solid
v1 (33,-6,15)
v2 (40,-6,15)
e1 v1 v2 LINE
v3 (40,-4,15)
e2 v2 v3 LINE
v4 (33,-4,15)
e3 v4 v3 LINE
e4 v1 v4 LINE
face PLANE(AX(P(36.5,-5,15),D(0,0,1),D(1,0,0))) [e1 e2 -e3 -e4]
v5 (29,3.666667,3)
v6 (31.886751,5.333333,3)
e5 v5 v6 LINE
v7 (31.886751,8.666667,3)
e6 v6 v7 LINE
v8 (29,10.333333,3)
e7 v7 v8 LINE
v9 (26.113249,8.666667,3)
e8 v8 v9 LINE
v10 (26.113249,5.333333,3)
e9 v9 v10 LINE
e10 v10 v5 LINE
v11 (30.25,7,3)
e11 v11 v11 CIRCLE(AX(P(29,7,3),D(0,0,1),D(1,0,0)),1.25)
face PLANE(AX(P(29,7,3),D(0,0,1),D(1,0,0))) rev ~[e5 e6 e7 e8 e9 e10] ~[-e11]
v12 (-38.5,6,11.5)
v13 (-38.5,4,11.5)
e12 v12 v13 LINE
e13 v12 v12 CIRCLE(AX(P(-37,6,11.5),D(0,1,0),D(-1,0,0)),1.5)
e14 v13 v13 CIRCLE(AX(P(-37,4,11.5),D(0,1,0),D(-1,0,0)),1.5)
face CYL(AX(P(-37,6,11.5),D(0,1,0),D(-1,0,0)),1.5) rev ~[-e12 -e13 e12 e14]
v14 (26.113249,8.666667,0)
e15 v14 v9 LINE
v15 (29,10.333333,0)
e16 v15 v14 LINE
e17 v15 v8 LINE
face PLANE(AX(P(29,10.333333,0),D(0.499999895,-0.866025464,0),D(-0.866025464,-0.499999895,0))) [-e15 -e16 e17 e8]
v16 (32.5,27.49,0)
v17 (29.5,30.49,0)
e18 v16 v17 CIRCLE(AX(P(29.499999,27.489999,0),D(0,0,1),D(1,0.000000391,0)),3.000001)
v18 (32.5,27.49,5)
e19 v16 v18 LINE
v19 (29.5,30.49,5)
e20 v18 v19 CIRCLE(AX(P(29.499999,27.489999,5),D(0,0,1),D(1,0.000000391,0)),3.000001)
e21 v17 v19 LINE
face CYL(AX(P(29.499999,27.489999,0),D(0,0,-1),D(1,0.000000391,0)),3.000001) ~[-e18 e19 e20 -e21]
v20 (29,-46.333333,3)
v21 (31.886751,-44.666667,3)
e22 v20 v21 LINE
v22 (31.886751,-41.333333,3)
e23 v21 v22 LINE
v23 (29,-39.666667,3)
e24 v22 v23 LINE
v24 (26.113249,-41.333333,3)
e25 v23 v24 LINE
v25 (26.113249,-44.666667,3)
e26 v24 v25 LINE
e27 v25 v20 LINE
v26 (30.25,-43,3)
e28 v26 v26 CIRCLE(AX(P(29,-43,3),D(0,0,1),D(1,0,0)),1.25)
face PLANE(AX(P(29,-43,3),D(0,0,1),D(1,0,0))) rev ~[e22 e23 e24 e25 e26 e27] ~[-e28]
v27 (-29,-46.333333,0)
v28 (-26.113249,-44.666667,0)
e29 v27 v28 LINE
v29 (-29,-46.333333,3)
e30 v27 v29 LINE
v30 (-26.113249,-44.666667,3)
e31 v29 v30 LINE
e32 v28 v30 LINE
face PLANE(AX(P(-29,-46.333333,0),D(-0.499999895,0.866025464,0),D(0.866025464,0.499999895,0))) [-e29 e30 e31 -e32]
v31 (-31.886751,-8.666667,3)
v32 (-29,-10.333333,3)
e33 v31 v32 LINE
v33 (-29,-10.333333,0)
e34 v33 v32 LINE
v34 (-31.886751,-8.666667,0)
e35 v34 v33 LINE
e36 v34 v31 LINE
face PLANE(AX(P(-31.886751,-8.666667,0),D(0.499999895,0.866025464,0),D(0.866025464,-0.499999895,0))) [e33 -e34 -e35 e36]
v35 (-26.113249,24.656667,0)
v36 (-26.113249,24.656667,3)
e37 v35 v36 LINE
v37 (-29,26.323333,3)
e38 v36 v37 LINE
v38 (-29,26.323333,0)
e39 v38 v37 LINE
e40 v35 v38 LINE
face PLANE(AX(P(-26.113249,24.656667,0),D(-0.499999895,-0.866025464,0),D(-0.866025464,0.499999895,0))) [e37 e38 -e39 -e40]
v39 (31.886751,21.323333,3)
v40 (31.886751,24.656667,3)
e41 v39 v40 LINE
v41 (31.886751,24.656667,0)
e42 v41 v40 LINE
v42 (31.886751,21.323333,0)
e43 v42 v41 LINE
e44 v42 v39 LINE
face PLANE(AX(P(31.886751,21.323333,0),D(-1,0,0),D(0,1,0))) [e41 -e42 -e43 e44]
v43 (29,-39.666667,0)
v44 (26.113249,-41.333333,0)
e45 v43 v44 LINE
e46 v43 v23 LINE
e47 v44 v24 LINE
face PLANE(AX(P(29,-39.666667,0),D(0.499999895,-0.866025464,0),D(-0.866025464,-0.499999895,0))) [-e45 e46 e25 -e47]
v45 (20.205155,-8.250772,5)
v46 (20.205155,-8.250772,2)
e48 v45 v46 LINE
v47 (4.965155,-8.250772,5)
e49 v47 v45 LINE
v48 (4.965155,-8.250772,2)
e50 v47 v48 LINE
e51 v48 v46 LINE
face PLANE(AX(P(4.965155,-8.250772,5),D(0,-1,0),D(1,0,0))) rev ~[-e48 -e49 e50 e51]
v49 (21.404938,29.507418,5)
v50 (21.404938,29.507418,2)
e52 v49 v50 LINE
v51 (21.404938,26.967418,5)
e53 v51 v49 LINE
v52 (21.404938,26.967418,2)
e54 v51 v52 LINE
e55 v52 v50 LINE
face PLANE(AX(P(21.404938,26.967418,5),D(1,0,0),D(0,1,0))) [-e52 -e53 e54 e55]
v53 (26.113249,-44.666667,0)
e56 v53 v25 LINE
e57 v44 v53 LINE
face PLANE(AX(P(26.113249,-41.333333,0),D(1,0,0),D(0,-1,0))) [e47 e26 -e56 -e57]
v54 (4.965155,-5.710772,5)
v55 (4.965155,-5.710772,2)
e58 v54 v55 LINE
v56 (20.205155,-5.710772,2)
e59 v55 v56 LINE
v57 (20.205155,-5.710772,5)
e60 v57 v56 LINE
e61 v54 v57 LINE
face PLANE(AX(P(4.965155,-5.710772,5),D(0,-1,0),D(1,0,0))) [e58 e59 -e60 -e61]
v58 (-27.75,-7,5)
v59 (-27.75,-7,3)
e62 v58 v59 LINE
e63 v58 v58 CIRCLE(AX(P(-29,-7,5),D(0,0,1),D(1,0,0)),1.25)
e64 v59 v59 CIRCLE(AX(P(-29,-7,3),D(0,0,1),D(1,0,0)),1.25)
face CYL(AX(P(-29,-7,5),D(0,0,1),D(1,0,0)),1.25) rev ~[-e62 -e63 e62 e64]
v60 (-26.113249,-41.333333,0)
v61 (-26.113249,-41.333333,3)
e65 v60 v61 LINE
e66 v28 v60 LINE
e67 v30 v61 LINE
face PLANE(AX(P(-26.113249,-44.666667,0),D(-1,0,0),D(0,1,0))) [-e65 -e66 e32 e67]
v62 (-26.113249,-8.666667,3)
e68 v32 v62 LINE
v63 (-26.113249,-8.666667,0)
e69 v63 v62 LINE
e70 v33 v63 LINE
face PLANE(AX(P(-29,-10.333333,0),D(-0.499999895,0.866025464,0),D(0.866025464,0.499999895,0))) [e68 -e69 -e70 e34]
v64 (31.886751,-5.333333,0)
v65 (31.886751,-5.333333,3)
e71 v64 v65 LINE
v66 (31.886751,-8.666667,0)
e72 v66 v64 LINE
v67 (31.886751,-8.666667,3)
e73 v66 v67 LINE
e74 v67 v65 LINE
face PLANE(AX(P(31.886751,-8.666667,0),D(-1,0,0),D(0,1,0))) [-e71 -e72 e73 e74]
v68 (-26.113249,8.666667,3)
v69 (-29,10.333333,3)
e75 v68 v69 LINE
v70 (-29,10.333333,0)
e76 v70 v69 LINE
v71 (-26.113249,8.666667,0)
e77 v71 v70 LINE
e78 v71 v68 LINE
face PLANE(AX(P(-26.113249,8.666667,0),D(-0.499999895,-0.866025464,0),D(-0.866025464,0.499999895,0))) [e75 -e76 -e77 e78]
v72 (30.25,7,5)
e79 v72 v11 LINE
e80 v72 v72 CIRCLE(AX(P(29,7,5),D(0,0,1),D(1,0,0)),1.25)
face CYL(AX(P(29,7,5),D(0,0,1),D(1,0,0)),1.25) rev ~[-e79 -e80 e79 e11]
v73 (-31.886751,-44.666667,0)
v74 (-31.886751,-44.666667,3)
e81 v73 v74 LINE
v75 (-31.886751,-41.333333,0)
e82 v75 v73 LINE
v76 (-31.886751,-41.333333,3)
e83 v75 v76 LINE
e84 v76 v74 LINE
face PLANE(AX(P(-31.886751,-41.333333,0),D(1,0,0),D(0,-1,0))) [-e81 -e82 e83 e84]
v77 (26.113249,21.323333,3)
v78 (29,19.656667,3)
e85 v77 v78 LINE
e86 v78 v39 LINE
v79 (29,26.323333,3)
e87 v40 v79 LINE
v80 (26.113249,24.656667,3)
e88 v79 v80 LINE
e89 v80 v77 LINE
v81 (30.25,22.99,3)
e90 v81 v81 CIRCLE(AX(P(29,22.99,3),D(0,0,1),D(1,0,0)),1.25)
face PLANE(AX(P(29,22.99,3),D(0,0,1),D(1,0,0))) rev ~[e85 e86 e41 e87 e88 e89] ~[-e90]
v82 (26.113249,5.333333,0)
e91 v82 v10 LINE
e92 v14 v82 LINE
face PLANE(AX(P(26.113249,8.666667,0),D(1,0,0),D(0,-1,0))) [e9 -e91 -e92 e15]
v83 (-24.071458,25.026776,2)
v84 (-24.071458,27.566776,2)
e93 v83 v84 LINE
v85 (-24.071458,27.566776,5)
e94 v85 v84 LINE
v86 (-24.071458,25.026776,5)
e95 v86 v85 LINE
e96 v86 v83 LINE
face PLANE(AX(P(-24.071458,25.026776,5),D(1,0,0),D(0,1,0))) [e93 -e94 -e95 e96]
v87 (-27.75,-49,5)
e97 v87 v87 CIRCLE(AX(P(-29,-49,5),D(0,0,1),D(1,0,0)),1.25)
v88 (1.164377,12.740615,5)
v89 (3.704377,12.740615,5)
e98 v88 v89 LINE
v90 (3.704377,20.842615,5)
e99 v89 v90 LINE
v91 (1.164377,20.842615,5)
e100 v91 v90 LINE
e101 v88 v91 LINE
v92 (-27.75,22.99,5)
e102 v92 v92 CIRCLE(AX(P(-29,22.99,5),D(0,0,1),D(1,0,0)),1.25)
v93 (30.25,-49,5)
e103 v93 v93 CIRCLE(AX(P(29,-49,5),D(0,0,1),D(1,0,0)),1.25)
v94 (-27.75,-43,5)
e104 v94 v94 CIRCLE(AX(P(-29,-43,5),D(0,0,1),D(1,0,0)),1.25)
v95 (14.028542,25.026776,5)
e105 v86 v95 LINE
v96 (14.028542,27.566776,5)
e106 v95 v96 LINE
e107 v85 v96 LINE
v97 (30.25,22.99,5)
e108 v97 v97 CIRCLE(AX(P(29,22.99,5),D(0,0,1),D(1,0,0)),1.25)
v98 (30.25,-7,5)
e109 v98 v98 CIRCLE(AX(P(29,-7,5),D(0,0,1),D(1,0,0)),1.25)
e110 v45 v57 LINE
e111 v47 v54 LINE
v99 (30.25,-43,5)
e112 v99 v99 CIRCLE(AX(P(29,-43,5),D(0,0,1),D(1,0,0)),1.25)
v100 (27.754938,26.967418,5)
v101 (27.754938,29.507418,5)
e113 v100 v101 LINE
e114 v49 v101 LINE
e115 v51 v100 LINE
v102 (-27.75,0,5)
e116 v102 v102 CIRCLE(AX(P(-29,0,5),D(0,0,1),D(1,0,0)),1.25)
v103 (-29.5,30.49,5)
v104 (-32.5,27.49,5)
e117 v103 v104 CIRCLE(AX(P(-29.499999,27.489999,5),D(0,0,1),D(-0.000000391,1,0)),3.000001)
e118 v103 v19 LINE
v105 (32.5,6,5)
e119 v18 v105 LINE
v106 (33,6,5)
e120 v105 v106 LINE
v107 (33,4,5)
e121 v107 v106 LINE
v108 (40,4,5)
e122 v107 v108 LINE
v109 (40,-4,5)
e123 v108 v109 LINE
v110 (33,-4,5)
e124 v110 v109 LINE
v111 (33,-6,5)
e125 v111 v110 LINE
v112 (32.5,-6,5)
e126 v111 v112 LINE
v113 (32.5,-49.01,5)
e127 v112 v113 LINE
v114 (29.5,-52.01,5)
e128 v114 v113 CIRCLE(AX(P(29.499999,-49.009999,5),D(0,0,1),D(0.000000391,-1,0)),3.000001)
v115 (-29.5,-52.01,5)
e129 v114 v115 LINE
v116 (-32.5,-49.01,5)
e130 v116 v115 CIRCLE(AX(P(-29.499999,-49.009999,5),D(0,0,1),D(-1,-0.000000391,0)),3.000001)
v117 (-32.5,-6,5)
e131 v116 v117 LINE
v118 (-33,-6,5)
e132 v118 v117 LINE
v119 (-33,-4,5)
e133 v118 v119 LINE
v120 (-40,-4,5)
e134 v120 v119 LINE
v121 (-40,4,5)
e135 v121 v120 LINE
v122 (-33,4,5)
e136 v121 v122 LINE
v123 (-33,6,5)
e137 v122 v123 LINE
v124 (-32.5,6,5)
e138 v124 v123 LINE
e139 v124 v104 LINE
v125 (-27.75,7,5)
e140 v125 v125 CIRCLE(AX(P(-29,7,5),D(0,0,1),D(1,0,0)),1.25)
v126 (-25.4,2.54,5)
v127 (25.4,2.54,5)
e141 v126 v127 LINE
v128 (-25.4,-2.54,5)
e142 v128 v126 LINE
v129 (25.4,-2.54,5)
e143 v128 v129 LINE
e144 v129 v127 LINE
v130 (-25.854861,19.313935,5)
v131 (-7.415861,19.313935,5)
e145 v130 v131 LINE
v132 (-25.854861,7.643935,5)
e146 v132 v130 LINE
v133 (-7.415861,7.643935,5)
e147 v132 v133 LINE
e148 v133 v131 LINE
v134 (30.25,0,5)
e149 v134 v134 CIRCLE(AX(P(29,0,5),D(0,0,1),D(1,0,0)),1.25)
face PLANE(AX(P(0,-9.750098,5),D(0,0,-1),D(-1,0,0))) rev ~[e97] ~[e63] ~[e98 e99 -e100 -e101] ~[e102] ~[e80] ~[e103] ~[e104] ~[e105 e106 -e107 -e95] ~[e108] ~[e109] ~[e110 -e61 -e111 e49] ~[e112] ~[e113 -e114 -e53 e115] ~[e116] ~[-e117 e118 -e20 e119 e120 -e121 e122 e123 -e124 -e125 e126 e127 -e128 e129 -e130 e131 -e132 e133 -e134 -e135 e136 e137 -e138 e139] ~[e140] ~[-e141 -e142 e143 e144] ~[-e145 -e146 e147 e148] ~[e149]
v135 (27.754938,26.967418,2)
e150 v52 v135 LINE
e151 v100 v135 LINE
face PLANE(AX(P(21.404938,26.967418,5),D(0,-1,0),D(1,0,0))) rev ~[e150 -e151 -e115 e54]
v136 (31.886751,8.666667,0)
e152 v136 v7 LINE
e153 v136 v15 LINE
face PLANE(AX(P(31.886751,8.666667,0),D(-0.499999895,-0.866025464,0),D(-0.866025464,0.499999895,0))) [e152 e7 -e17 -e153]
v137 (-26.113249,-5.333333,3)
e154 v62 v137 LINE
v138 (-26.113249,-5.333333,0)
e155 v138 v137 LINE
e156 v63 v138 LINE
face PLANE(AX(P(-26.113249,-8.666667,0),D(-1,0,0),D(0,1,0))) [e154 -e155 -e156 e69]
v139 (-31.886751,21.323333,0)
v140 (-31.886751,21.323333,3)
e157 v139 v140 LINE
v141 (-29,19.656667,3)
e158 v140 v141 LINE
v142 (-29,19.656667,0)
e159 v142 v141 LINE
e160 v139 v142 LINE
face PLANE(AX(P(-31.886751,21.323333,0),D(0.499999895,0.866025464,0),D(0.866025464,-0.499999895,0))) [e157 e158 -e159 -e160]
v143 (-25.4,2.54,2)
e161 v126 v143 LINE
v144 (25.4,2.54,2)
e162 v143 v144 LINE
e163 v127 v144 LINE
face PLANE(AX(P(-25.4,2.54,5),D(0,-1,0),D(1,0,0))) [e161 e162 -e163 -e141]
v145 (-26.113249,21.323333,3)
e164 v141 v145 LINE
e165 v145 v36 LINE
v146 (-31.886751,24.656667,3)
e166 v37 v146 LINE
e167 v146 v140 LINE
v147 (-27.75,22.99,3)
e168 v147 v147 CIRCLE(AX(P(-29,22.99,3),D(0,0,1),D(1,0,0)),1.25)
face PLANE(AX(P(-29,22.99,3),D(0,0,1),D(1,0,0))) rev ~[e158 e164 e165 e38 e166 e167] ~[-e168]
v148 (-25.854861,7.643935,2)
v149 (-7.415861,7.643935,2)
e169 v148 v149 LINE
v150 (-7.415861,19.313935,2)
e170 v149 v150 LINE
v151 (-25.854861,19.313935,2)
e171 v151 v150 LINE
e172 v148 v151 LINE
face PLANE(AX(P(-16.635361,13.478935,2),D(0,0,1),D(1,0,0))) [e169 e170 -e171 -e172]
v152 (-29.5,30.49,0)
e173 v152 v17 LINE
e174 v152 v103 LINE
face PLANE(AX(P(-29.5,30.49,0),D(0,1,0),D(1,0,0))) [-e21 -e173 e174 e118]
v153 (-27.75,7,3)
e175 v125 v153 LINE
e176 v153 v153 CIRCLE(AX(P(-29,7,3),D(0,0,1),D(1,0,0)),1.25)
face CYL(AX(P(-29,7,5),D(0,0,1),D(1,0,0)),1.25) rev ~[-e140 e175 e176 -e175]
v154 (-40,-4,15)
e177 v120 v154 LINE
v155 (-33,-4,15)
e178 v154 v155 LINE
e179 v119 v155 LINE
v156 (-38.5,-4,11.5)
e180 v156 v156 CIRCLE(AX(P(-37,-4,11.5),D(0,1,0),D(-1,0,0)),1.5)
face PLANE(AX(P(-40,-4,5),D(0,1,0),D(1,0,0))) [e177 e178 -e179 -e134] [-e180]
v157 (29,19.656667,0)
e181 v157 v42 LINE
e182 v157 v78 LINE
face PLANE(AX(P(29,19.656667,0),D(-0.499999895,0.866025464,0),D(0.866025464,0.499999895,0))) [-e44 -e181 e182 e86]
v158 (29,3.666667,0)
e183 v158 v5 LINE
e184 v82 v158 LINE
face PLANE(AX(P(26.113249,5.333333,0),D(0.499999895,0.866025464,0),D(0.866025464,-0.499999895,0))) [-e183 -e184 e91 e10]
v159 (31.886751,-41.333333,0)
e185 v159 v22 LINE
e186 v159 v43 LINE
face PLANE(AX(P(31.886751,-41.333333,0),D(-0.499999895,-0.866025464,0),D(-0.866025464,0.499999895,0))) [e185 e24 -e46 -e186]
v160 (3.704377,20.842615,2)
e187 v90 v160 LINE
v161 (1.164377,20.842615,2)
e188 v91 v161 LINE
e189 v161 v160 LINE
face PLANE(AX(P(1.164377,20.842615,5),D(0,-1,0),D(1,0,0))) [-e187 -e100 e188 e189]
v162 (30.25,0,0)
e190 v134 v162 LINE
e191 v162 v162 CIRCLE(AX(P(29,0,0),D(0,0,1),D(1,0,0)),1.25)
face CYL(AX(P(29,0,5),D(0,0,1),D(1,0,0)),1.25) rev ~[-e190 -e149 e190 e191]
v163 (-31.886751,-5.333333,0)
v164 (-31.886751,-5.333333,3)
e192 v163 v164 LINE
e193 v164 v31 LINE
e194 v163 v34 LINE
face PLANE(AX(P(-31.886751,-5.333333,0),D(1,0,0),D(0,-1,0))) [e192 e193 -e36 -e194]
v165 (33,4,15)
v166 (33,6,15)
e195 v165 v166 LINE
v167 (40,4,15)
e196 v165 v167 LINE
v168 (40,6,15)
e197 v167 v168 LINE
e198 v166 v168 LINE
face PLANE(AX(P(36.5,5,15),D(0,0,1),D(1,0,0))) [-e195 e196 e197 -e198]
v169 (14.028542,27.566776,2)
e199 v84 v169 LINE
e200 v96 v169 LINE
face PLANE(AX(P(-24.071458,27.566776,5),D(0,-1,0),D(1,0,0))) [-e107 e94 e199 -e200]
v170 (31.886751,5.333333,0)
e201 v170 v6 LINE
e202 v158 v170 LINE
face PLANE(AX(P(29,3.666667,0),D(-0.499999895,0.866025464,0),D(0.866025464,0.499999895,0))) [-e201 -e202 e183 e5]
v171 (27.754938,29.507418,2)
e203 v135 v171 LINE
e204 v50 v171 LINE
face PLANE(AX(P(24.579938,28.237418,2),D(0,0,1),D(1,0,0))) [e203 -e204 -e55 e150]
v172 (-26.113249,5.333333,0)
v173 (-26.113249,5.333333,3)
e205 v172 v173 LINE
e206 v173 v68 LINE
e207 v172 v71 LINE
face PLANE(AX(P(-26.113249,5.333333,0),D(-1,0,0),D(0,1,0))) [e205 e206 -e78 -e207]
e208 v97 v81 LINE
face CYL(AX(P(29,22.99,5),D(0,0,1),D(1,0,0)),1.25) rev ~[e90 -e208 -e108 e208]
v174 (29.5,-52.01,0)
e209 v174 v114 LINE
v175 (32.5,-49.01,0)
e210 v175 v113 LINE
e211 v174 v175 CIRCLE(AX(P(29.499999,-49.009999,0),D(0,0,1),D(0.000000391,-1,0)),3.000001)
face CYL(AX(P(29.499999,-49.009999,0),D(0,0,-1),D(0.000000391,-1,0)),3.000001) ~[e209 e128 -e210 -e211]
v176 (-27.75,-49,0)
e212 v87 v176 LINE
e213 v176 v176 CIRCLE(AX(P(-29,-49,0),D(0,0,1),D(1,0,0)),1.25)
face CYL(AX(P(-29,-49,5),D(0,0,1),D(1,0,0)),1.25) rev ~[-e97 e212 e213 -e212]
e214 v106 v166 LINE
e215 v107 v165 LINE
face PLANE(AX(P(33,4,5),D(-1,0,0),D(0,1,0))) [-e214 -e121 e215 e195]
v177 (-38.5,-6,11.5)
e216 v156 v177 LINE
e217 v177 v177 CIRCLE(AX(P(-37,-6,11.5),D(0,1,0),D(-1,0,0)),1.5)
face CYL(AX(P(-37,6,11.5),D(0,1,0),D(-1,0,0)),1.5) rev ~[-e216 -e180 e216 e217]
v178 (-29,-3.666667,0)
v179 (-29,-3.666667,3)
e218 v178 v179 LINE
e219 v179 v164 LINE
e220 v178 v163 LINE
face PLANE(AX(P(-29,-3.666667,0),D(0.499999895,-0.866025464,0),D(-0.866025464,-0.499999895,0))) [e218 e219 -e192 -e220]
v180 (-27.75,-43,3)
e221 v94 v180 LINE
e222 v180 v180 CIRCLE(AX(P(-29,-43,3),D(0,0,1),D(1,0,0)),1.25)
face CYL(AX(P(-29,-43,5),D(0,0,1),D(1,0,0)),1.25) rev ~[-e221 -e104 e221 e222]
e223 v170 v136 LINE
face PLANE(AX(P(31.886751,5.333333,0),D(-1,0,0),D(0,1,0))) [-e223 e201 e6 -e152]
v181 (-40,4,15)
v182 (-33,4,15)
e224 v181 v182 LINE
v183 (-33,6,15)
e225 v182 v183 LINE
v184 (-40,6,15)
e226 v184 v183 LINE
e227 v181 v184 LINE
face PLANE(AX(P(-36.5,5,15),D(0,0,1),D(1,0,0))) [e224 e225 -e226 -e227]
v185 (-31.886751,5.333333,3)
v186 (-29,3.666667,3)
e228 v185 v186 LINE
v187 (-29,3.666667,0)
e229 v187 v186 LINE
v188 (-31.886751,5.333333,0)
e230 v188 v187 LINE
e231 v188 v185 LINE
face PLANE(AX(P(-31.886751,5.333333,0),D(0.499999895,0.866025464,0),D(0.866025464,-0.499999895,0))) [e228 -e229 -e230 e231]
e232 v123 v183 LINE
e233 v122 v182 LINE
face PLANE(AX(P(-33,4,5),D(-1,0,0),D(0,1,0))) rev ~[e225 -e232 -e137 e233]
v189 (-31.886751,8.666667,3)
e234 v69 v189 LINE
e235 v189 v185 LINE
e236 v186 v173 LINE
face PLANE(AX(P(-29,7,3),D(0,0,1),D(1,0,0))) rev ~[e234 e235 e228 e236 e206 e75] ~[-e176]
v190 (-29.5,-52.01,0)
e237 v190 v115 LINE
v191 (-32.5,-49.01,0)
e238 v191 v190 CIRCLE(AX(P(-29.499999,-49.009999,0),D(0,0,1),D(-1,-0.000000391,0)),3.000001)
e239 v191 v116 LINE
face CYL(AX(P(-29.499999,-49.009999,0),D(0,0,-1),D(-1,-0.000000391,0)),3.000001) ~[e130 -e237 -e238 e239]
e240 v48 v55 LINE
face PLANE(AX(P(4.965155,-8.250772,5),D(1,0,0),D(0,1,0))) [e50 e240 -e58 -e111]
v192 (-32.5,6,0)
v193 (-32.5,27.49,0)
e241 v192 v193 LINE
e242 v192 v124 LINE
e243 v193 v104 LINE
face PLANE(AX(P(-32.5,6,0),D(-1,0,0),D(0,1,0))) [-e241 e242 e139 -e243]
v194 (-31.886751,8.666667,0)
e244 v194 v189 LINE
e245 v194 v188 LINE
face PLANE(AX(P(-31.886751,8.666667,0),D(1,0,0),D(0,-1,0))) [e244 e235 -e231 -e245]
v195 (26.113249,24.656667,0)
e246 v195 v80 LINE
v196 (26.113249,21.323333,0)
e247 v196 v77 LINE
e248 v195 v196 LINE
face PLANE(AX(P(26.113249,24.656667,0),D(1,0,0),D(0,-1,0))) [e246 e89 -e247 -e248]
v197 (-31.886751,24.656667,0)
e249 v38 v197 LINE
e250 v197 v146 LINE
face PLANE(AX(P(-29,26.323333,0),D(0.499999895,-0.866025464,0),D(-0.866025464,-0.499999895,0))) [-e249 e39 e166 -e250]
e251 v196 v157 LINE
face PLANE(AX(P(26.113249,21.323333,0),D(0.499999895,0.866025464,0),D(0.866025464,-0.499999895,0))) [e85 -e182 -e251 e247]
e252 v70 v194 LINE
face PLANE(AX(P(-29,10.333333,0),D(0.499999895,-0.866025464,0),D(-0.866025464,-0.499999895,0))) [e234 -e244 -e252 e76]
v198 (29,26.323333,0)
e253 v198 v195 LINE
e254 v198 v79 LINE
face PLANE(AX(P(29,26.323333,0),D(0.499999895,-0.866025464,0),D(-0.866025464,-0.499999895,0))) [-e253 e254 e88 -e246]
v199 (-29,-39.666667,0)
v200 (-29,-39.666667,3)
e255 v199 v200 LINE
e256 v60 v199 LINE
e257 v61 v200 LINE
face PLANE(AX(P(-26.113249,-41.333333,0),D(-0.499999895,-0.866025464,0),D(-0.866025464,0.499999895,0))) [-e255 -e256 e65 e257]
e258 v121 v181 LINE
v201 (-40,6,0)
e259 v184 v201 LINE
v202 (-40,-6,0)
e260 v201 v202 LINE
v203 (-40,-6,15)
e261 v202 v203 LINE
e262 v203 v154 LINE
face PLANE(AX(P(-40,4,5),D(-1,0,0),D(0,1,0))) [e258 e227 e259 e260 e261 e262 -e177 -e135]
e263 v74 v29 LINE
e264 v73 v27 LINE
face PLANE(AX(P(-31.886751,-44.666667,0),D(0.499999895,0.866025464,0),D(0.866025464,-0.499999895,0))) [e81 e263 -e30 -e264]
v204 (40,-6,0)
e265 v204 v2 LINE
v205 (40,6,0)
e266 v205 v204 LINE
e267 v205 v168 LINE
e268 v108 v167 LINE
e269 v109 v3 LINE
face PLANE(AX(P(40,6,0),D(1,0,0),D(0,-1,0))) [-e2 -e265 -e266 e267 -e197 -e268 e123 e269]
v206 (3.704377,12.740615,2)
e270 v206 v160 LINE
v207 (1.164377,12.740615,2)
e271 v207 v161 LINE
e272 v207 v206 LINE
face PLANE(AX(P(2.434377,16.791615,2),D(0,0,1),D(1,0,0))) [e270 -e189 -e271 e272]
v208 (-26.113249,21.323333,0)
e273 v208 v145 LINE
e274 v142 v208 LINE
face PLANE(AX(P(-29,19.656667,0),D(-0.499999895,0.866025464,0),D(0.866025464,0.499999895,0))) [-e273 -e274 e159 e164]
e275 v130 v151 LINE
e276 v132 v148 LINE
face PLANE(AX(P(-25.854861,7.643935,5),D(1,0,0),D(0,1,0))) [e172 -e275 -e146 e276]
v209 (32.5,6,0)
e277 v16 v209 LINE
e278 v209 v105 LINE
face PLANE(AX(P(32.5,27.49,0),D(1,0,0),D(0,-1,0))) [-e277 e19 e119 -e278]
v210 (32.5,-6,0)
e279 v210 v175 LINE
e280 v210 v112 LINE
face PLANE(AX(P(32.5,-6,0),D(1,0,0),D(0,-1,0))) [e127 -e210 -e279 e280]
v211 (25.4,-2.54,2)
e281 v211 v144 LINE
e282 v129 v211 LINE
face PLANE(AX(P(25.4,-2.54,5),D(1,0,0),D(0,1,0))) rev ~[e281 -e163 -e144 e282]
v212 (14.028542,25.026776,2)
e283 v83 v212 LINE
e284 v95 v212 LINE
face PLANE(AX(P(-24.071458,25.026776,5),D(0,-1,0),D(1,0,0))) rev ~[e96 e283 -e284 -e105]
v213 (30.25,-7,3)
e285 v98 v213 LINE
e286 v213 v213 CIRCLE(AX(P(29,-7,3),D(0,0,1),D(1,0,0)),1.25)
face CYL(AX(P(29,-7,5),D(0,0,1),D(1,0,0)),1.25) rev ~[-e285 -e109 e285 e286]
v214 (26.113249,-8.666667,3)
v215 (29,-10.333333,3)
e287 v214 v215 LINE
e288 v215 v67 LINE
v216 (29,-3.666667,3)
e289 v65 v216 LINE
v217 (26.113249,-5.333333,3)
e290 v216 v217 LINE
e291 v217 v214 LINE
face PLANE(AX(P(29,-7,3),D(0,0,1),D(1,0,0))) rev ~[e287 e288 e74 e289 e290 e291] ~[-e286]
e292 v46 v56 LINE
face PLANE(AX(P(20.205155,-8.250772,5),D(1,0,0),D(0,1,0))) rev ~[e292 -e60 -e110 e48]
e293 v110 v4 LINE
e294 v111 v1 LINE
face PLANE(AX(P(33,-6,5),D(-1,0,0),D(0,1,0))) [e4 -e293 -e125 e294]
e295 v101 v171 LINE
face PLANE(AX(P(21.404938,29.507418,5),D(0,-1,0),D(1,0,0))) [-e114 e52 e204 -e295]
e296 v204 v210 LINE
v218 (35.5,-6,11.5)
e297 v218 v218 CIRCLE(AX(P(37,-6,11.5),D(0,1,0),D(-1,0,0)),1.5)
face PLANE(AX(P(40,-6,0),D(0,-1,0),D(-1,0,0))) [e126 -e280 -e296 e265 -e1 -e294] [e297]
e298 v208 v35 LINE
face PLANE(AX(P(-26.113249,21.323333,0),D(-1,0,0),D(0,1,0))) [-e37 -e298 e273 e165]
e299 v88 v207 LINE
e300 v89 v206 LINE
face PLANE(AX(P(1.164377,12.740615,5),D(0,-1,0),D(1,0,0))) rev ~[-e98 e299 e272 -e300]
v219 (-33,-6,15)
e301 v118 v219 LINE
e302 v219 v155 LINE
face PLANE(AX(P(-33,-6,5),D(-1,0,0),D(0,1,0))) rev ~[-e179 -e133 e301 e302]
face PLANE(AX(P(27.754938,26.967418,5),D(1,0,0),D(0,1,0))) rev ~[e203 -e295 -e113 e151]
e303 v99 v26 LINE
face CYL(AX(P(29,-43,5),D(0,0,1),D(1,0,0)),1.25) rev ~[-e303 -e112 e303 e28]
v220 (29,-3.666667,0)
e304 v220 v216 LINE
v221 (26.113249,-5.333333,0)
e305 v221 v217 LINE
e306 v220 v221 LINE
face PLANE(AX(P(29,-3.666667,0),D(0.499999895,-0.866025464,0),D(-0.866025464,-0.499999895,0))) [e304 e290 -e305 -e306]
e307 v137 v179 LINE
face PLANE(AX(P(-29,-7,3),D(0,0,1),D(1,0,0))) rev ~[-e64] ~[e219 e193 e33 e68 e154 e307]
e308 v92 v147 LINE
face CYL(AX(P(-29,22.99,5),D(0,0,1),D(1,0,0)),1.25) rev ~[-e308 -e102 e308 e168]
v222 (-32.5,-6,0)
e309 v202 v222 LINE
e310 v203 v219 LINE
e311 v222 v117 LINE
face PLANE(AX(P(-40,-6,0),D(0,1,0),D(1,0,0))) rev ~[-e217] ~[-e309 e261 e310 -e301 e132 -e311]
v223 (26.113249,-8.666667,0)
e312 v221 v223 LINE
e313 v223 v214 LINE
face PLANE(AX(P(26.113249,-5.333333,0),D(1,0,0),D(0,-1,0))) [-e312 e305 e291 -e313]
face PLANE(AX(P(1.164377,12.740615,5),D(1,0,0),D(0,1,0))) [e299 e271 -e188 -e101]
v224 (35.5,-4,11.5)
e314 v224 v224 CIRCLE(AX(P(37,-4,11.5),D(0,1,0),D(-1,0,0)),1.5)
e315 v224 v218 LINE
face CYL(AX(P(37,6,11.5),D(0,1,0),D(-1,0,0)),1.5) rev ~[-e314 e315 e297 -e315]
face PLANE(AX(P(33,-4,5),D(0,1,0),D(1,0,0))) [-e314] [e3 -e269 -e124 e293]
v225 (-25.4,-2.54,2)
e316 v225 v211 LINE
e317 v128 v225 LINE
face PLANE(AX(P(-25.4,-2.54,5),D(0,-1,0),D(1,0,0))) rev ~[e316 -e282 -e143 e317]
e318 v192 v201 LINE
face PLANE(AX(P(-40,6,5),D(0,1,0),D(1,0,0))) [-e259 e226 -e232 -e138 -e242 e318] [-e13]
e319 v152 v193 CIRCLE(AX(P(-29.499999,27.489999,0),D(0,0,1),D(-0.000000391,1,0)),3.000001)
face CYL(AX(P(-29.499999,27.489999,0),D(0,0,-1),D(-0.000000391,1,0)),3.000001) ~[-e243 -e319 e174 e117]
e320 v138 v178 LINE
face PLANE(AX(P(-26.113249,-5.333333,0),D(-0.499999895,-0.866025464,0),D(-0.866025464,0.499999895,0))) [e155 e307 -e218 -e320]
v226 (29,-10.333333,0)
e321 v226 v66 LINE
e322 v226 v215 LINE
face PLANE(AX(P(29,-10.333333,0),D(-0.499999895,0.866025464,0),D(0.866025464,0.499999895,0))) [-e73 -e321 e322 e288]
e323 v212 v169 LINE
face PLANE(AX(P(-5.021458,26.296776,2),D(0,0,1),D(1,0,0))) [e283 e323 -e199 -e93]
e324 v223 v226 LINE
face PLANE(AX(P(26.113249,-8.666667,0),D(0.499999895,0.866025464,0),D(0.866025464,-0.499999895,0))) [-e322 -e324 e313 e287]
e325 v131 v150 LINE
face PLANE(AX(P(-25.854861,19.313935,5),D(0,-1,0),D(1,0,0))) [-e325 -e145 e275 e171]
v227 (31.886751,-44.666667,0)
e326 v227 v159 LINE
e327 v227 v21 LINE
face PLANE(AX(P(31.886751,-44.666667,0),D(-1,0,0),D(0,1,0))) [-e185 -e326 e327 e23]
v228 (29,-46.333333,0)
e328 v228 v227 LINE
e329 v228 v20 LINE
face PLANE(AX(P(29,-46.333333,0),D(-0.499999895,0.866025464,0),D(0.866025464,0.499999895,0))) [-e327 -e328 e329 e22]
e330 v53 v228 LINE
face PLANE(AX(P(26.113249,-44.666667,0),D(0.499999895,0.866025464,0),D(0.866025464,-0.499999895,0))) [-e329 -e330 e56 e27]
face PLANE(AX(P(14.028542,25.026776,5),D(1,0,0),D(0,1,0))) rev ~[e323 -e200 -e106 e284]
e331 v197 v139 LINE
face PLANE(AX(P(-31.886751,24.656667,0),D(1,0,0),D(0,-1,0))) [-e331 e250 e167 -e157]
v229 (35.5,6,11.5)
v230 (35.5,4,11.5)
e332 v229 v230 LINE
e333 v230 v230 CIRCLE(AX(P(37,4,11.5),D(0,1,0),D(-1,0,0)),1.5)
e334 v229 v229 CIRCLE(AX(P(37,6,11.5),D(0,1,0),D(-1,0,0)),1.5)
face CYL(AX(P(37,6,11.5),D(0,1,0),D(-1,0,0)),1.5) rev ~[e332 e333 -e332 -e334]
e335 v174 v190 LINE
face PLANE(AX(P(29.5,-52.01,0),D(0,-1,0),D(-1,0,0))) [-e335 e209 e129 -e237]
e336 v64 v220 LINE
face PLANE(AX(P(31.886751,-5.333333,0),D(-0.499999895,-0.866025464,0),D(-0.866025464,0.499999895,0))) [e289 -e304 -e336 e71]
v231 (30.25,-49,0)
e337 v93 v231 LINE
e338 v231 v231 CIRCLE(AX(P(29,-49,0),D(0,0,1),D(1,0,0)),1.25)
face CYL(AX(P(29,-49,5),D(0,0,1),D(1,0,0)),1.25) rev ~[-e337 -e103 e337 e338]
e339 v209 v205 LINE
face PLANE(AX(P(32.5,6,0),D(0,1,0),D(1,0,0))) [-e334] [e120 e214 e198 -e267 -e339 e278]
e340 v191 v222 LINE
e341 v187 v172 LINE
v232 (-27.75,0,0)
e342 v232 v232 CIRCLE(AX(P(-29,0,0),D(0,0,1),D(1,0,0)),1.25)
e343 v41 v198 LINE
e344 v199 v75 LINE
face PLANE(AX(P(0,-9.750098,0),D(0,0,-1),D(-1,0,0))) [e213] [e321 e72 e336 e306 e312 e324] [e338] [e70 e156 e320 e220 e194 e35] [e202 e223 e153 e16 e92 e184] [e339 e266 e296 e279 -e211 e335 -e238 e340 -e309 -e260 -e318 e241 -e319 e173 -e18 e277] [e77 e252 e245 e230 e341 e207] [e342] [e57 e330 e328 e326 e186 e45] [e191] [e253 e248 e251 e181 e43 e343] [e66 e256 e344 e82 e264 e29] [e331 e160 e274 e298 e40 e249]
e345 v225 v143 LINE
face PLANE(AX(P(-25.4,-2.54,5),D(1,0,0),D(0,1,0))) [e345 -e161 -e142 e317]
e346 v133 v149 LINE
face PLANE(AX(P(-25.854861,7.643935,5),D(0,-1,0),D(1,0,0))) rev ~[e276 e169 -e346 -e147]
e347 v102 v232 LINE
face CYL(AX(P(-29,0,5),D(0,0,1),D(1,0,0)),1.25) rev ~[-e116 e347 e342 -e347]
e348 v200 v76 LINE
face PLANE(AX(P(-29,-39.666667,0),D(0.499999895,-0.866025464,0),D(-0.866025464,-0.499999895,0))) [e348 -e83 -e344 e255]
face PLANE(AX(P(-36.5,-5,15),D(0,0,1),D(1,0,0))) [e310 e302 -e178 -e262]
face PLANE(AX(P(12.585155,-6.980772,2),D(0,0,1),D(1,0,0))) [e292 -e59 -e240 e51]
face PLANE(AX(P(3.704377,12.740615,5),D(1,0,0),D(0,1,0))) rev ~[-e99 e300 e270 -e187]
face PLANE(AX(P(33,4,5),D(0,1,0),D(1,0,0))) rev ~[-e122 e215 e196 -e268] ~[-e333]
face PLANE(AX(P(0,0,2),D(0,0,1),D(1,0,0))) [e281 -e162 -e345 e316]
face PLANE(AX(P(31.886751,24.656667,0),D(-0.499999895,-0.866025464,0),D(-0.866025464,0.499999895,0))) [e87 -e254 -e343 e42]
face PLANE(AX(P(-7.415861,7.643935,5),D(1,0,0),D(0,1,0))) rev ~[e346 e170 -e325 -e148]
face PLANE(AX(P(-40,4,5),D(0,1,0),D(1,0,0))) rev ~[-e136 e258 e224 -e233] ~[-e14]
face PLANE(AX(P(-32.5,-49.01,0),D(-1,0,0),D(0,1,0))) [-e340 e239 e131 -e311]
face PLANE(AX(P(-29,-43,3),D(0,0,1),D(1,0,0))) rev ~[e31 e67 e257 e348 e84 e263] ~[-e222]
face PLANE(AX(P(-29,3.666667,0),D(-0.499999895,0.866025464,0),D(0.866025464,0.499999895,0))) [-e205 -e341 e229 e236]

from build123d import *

# Parameters (mm, degrees)
PAD002_DEPTH    = 5
SKETCH006_W     = 7
SKETCH006_H     = 2
PAD003_DEPTH    = 10
SKETCH007_R     = 1.5
POCKET003_DEPTH = 58.011
SKETCH008_W     = 50.8
SKETCH008_H     = 5.08
SKETCH008_W_2   = 15.24
SKETCH008_H_2   = 2.54
SKETCH008_W_3   = 6.35
SKETCH008_W_4   = 18.439
SKETCH008_H_3   = 11.67
SKETCH008_W_5   = 38.1
SKETCH008_W_6   = 2.54
SKETCH008_H_4   = 8.102
POCKET004_DEPTH = 3
SKETCH011_R     = 1.25
POCKET006_DEPTH = 5
SKETCH012_R     = 1.25
POCKET007_DEPTH = 5.001
POCKET008_DEPTH = 3


with BuildPart() as part:
    # Sketch005 → Pad002 (new body)
    with BuildSketch(Plane.XY):
        with BuildLine():
            Line((-29.5, 30.49), (29.5, 30.49))
            ThreePointArc((32.5, 27.49), (31.62132, 29.61132), (29.5, 30.49))
            Line((32.5, 27.49), (32.5, 6))
            Line((32.5, 6), (40, 6))
            Line((40, 6), (40, -6))
            Line((40, -6), (32.5, -6))
            Line((32.5, -6), (32.5, -49.01))
            ThreePointArc((29.5, -52.01), (31.62132, -51.13132), (32.5, -49.01))
            Line((29.5, -52.01), (-29.5, -52.01))
            ThreePointArc((-32.5, -49.01), (-31.62132, -51.13132), (-29.5, -52.01))
            Line((-32.5, -49.01), (-32.5, -6))
            Line((-40, -6), (-32.5, -6))
            Line((-40, 6), (-40, -6))
            Line((-32.5, 6), (-40, 6))
            Line((-32.5, 6), (-32.5, 27.49))
            ThreePointArc((-29.5, 30.49), (-31.62132, 29.61132), (-32.5, 27.49))
        make_face()
    extrude(amount=PAD002_DEPTH)

    # Sketch006 (on Face18 of Pad002) → Pad003 (join)
    with BuildSketch(Plane.XY.offset(5)):
        with Locations((-36.5, 5)):
            Rectangle(SKETCH006_W, SKETCH006_H)
        with Locations((-36.5, -5)):
            Rectangle(SKETCH006_W, SKETCH006_H)
        with Locations((36.5, 5)):
            Rectangle(SKETCH006_W, SKETCH006_H)
        with Locations((36.5, -5)):
            Rectangle(SKETCH006_W, SKETCH006_H)
    extrude(amount=PAD003_DEPTH)

    # Sketch007 (on Face31 of Pad003) → Pocket003 (cut, through all)
    with BuildSketch(Plane(origin=(0, 6, 0), x_dir=(-1, 0, 0), z_dir=(0, 1, 0))):
        with Locations((-37, 11.5)):
            Circle(SKETCH007_R)
        with Locations((37, 11.5)):
            Circle(SKETCH007_R)
    extrude(amount=-POCKET003_DEPTH, mode=Mode.SUBTRACT)

    # Sketch008 (on Face5 of Pocket003) → Pocket004 (cut)
    with BuildSketch(Plane.XY.offset(5)):
        Rectangle(SKETCH008_W, SKETCH008_H)
        with Locations((12.585155, -6.980772)):
            Rectangle(SKETCH008_W_2, SKETCH008_H_2)
        with Locations((24.579938, 28.237418)):
            Rectangle(SKETCH008_W_3, SKETCH008_H_2)
        with Locations((-16.635361, 13.478935)):
            Rectangle(SKETCH008_W_4, SKETCH008_H_3)
        with Locations((-5.021458, 26.296776)):
            Rectangle(SKETCH008_W_5, SKETCH008_H_2)
        with Locations((2.434377, 16.791615)):
            Rectangle(SKETCH008_W_6, SKETCH008_H_4)
    extrude(amount=-POCKET004_DEPTH, mode=Mode.SUBTRACT)

    # Sketch011 (on Face5 of Pocket004) → Pocket006 (cut)
    with BuildSketch(Plane.XY.offset(5)):
        with Locations((-29, 0)):
            Circle(SKETCH011_R)
        with Locations((29, 0)):
            Circle(SKETCH011_R)
        with Locations((-29, -49)):
            Circle(SKETCH011_R)
        with Locations((29, -49)):
            Circle(SKETCH011_R)
    extrude(amount=-POCKET006_DEPTH, mode=Mode.SUBTRACT)

    # Sketch012 (on Face5 of Pocket006) → Pocket007 (cut, through all)
    with BuildSketch(Plane.XY.offset(5)):
        with Locations((-29, 7)):
            Circle(SKETCH012_R)
        with Locations((29, 7)):
            Circle(SKETCH012_R)
        with Locations((29, -43)):
            Circle(SKETCH012_R)
        with Locations((-29, -43)):
            Circle(SKETCH012_R)
        with Locations((-29, 22.99)):
            Circle(SKETCH012_R)
        with Locations((29, 22.99)):
            Circle(SKETCH012_R)
        with Locations((-29, -7)):
            Circle(SKETCH012_R)
        with Locations((29, -7)):
            Circle(SKETCH012_R)
    extrude(amount=-POCKET007_DEPTH, mode=Mode.SUBTRACT)

    # Sketch013 (on Face5 of Pocket006) → Pocket008 (cut)
    with BuildSketch(Plane.XY):
        Polygon((-26.113249, 21.323333), (-26.113249, 24.656667), (-29, 26.323333), (-31.886751, 24.656667), (-31.886751, 21.323333), (-29, 19.656667), align=None)
        Polygon((31.886751, 21.323333), (31.886751, 24.656667), (29, 26.323333), (26.113249, 24.656667), (26.113249, 21.323333), (29, 19.656667), align=None)
        Polygon((-26.113249, 5.333333), (-26.113249, 8.666667), (-29, 10.333333), (-31.886751, 8.666667), (-31.886751, 5.333333), (-29, 3.666667), align=None)
        Polygon((31.886751, 5.333333), (31.886751, 8.666667), (29, 10.333333), (26.113249, 8.666667), (26.113249, 5.333333), (29, 3.666667), align=None)
        Polygon((-26.113249, -8.666667), (-26.113249, -5.333333), (-29, -3.666667), (-31.886751, -5.333333), (-31.886751, -8.666667), (-29, -10.333333), align=None)
        Polygon((31.886751, -8.666667), (31.886751, -5.333333), (29, -3.666667), (26.113249, -5.333333), (26.113249, -8.666667), (29, -10.333333), align=None)
        Polygon((-26.113249, -44.666667), (-26.113249, -41.333333), (-29, -39.666667), (-31.886751, -41.333333), (-31.886751, -44.666667), (-29, -46.333333), align=None)
        Polygon((31.886751, -44.666667), (31.886751, -41.333333), (29, -39.666667), (26.113249, -41.333333), (26.113249, -44.666667), (29, -46.333333), align=None)
    extrude(amount=POCKET008_DEPTH, mode=Mode.SUBTRACT)


solid = part.part
